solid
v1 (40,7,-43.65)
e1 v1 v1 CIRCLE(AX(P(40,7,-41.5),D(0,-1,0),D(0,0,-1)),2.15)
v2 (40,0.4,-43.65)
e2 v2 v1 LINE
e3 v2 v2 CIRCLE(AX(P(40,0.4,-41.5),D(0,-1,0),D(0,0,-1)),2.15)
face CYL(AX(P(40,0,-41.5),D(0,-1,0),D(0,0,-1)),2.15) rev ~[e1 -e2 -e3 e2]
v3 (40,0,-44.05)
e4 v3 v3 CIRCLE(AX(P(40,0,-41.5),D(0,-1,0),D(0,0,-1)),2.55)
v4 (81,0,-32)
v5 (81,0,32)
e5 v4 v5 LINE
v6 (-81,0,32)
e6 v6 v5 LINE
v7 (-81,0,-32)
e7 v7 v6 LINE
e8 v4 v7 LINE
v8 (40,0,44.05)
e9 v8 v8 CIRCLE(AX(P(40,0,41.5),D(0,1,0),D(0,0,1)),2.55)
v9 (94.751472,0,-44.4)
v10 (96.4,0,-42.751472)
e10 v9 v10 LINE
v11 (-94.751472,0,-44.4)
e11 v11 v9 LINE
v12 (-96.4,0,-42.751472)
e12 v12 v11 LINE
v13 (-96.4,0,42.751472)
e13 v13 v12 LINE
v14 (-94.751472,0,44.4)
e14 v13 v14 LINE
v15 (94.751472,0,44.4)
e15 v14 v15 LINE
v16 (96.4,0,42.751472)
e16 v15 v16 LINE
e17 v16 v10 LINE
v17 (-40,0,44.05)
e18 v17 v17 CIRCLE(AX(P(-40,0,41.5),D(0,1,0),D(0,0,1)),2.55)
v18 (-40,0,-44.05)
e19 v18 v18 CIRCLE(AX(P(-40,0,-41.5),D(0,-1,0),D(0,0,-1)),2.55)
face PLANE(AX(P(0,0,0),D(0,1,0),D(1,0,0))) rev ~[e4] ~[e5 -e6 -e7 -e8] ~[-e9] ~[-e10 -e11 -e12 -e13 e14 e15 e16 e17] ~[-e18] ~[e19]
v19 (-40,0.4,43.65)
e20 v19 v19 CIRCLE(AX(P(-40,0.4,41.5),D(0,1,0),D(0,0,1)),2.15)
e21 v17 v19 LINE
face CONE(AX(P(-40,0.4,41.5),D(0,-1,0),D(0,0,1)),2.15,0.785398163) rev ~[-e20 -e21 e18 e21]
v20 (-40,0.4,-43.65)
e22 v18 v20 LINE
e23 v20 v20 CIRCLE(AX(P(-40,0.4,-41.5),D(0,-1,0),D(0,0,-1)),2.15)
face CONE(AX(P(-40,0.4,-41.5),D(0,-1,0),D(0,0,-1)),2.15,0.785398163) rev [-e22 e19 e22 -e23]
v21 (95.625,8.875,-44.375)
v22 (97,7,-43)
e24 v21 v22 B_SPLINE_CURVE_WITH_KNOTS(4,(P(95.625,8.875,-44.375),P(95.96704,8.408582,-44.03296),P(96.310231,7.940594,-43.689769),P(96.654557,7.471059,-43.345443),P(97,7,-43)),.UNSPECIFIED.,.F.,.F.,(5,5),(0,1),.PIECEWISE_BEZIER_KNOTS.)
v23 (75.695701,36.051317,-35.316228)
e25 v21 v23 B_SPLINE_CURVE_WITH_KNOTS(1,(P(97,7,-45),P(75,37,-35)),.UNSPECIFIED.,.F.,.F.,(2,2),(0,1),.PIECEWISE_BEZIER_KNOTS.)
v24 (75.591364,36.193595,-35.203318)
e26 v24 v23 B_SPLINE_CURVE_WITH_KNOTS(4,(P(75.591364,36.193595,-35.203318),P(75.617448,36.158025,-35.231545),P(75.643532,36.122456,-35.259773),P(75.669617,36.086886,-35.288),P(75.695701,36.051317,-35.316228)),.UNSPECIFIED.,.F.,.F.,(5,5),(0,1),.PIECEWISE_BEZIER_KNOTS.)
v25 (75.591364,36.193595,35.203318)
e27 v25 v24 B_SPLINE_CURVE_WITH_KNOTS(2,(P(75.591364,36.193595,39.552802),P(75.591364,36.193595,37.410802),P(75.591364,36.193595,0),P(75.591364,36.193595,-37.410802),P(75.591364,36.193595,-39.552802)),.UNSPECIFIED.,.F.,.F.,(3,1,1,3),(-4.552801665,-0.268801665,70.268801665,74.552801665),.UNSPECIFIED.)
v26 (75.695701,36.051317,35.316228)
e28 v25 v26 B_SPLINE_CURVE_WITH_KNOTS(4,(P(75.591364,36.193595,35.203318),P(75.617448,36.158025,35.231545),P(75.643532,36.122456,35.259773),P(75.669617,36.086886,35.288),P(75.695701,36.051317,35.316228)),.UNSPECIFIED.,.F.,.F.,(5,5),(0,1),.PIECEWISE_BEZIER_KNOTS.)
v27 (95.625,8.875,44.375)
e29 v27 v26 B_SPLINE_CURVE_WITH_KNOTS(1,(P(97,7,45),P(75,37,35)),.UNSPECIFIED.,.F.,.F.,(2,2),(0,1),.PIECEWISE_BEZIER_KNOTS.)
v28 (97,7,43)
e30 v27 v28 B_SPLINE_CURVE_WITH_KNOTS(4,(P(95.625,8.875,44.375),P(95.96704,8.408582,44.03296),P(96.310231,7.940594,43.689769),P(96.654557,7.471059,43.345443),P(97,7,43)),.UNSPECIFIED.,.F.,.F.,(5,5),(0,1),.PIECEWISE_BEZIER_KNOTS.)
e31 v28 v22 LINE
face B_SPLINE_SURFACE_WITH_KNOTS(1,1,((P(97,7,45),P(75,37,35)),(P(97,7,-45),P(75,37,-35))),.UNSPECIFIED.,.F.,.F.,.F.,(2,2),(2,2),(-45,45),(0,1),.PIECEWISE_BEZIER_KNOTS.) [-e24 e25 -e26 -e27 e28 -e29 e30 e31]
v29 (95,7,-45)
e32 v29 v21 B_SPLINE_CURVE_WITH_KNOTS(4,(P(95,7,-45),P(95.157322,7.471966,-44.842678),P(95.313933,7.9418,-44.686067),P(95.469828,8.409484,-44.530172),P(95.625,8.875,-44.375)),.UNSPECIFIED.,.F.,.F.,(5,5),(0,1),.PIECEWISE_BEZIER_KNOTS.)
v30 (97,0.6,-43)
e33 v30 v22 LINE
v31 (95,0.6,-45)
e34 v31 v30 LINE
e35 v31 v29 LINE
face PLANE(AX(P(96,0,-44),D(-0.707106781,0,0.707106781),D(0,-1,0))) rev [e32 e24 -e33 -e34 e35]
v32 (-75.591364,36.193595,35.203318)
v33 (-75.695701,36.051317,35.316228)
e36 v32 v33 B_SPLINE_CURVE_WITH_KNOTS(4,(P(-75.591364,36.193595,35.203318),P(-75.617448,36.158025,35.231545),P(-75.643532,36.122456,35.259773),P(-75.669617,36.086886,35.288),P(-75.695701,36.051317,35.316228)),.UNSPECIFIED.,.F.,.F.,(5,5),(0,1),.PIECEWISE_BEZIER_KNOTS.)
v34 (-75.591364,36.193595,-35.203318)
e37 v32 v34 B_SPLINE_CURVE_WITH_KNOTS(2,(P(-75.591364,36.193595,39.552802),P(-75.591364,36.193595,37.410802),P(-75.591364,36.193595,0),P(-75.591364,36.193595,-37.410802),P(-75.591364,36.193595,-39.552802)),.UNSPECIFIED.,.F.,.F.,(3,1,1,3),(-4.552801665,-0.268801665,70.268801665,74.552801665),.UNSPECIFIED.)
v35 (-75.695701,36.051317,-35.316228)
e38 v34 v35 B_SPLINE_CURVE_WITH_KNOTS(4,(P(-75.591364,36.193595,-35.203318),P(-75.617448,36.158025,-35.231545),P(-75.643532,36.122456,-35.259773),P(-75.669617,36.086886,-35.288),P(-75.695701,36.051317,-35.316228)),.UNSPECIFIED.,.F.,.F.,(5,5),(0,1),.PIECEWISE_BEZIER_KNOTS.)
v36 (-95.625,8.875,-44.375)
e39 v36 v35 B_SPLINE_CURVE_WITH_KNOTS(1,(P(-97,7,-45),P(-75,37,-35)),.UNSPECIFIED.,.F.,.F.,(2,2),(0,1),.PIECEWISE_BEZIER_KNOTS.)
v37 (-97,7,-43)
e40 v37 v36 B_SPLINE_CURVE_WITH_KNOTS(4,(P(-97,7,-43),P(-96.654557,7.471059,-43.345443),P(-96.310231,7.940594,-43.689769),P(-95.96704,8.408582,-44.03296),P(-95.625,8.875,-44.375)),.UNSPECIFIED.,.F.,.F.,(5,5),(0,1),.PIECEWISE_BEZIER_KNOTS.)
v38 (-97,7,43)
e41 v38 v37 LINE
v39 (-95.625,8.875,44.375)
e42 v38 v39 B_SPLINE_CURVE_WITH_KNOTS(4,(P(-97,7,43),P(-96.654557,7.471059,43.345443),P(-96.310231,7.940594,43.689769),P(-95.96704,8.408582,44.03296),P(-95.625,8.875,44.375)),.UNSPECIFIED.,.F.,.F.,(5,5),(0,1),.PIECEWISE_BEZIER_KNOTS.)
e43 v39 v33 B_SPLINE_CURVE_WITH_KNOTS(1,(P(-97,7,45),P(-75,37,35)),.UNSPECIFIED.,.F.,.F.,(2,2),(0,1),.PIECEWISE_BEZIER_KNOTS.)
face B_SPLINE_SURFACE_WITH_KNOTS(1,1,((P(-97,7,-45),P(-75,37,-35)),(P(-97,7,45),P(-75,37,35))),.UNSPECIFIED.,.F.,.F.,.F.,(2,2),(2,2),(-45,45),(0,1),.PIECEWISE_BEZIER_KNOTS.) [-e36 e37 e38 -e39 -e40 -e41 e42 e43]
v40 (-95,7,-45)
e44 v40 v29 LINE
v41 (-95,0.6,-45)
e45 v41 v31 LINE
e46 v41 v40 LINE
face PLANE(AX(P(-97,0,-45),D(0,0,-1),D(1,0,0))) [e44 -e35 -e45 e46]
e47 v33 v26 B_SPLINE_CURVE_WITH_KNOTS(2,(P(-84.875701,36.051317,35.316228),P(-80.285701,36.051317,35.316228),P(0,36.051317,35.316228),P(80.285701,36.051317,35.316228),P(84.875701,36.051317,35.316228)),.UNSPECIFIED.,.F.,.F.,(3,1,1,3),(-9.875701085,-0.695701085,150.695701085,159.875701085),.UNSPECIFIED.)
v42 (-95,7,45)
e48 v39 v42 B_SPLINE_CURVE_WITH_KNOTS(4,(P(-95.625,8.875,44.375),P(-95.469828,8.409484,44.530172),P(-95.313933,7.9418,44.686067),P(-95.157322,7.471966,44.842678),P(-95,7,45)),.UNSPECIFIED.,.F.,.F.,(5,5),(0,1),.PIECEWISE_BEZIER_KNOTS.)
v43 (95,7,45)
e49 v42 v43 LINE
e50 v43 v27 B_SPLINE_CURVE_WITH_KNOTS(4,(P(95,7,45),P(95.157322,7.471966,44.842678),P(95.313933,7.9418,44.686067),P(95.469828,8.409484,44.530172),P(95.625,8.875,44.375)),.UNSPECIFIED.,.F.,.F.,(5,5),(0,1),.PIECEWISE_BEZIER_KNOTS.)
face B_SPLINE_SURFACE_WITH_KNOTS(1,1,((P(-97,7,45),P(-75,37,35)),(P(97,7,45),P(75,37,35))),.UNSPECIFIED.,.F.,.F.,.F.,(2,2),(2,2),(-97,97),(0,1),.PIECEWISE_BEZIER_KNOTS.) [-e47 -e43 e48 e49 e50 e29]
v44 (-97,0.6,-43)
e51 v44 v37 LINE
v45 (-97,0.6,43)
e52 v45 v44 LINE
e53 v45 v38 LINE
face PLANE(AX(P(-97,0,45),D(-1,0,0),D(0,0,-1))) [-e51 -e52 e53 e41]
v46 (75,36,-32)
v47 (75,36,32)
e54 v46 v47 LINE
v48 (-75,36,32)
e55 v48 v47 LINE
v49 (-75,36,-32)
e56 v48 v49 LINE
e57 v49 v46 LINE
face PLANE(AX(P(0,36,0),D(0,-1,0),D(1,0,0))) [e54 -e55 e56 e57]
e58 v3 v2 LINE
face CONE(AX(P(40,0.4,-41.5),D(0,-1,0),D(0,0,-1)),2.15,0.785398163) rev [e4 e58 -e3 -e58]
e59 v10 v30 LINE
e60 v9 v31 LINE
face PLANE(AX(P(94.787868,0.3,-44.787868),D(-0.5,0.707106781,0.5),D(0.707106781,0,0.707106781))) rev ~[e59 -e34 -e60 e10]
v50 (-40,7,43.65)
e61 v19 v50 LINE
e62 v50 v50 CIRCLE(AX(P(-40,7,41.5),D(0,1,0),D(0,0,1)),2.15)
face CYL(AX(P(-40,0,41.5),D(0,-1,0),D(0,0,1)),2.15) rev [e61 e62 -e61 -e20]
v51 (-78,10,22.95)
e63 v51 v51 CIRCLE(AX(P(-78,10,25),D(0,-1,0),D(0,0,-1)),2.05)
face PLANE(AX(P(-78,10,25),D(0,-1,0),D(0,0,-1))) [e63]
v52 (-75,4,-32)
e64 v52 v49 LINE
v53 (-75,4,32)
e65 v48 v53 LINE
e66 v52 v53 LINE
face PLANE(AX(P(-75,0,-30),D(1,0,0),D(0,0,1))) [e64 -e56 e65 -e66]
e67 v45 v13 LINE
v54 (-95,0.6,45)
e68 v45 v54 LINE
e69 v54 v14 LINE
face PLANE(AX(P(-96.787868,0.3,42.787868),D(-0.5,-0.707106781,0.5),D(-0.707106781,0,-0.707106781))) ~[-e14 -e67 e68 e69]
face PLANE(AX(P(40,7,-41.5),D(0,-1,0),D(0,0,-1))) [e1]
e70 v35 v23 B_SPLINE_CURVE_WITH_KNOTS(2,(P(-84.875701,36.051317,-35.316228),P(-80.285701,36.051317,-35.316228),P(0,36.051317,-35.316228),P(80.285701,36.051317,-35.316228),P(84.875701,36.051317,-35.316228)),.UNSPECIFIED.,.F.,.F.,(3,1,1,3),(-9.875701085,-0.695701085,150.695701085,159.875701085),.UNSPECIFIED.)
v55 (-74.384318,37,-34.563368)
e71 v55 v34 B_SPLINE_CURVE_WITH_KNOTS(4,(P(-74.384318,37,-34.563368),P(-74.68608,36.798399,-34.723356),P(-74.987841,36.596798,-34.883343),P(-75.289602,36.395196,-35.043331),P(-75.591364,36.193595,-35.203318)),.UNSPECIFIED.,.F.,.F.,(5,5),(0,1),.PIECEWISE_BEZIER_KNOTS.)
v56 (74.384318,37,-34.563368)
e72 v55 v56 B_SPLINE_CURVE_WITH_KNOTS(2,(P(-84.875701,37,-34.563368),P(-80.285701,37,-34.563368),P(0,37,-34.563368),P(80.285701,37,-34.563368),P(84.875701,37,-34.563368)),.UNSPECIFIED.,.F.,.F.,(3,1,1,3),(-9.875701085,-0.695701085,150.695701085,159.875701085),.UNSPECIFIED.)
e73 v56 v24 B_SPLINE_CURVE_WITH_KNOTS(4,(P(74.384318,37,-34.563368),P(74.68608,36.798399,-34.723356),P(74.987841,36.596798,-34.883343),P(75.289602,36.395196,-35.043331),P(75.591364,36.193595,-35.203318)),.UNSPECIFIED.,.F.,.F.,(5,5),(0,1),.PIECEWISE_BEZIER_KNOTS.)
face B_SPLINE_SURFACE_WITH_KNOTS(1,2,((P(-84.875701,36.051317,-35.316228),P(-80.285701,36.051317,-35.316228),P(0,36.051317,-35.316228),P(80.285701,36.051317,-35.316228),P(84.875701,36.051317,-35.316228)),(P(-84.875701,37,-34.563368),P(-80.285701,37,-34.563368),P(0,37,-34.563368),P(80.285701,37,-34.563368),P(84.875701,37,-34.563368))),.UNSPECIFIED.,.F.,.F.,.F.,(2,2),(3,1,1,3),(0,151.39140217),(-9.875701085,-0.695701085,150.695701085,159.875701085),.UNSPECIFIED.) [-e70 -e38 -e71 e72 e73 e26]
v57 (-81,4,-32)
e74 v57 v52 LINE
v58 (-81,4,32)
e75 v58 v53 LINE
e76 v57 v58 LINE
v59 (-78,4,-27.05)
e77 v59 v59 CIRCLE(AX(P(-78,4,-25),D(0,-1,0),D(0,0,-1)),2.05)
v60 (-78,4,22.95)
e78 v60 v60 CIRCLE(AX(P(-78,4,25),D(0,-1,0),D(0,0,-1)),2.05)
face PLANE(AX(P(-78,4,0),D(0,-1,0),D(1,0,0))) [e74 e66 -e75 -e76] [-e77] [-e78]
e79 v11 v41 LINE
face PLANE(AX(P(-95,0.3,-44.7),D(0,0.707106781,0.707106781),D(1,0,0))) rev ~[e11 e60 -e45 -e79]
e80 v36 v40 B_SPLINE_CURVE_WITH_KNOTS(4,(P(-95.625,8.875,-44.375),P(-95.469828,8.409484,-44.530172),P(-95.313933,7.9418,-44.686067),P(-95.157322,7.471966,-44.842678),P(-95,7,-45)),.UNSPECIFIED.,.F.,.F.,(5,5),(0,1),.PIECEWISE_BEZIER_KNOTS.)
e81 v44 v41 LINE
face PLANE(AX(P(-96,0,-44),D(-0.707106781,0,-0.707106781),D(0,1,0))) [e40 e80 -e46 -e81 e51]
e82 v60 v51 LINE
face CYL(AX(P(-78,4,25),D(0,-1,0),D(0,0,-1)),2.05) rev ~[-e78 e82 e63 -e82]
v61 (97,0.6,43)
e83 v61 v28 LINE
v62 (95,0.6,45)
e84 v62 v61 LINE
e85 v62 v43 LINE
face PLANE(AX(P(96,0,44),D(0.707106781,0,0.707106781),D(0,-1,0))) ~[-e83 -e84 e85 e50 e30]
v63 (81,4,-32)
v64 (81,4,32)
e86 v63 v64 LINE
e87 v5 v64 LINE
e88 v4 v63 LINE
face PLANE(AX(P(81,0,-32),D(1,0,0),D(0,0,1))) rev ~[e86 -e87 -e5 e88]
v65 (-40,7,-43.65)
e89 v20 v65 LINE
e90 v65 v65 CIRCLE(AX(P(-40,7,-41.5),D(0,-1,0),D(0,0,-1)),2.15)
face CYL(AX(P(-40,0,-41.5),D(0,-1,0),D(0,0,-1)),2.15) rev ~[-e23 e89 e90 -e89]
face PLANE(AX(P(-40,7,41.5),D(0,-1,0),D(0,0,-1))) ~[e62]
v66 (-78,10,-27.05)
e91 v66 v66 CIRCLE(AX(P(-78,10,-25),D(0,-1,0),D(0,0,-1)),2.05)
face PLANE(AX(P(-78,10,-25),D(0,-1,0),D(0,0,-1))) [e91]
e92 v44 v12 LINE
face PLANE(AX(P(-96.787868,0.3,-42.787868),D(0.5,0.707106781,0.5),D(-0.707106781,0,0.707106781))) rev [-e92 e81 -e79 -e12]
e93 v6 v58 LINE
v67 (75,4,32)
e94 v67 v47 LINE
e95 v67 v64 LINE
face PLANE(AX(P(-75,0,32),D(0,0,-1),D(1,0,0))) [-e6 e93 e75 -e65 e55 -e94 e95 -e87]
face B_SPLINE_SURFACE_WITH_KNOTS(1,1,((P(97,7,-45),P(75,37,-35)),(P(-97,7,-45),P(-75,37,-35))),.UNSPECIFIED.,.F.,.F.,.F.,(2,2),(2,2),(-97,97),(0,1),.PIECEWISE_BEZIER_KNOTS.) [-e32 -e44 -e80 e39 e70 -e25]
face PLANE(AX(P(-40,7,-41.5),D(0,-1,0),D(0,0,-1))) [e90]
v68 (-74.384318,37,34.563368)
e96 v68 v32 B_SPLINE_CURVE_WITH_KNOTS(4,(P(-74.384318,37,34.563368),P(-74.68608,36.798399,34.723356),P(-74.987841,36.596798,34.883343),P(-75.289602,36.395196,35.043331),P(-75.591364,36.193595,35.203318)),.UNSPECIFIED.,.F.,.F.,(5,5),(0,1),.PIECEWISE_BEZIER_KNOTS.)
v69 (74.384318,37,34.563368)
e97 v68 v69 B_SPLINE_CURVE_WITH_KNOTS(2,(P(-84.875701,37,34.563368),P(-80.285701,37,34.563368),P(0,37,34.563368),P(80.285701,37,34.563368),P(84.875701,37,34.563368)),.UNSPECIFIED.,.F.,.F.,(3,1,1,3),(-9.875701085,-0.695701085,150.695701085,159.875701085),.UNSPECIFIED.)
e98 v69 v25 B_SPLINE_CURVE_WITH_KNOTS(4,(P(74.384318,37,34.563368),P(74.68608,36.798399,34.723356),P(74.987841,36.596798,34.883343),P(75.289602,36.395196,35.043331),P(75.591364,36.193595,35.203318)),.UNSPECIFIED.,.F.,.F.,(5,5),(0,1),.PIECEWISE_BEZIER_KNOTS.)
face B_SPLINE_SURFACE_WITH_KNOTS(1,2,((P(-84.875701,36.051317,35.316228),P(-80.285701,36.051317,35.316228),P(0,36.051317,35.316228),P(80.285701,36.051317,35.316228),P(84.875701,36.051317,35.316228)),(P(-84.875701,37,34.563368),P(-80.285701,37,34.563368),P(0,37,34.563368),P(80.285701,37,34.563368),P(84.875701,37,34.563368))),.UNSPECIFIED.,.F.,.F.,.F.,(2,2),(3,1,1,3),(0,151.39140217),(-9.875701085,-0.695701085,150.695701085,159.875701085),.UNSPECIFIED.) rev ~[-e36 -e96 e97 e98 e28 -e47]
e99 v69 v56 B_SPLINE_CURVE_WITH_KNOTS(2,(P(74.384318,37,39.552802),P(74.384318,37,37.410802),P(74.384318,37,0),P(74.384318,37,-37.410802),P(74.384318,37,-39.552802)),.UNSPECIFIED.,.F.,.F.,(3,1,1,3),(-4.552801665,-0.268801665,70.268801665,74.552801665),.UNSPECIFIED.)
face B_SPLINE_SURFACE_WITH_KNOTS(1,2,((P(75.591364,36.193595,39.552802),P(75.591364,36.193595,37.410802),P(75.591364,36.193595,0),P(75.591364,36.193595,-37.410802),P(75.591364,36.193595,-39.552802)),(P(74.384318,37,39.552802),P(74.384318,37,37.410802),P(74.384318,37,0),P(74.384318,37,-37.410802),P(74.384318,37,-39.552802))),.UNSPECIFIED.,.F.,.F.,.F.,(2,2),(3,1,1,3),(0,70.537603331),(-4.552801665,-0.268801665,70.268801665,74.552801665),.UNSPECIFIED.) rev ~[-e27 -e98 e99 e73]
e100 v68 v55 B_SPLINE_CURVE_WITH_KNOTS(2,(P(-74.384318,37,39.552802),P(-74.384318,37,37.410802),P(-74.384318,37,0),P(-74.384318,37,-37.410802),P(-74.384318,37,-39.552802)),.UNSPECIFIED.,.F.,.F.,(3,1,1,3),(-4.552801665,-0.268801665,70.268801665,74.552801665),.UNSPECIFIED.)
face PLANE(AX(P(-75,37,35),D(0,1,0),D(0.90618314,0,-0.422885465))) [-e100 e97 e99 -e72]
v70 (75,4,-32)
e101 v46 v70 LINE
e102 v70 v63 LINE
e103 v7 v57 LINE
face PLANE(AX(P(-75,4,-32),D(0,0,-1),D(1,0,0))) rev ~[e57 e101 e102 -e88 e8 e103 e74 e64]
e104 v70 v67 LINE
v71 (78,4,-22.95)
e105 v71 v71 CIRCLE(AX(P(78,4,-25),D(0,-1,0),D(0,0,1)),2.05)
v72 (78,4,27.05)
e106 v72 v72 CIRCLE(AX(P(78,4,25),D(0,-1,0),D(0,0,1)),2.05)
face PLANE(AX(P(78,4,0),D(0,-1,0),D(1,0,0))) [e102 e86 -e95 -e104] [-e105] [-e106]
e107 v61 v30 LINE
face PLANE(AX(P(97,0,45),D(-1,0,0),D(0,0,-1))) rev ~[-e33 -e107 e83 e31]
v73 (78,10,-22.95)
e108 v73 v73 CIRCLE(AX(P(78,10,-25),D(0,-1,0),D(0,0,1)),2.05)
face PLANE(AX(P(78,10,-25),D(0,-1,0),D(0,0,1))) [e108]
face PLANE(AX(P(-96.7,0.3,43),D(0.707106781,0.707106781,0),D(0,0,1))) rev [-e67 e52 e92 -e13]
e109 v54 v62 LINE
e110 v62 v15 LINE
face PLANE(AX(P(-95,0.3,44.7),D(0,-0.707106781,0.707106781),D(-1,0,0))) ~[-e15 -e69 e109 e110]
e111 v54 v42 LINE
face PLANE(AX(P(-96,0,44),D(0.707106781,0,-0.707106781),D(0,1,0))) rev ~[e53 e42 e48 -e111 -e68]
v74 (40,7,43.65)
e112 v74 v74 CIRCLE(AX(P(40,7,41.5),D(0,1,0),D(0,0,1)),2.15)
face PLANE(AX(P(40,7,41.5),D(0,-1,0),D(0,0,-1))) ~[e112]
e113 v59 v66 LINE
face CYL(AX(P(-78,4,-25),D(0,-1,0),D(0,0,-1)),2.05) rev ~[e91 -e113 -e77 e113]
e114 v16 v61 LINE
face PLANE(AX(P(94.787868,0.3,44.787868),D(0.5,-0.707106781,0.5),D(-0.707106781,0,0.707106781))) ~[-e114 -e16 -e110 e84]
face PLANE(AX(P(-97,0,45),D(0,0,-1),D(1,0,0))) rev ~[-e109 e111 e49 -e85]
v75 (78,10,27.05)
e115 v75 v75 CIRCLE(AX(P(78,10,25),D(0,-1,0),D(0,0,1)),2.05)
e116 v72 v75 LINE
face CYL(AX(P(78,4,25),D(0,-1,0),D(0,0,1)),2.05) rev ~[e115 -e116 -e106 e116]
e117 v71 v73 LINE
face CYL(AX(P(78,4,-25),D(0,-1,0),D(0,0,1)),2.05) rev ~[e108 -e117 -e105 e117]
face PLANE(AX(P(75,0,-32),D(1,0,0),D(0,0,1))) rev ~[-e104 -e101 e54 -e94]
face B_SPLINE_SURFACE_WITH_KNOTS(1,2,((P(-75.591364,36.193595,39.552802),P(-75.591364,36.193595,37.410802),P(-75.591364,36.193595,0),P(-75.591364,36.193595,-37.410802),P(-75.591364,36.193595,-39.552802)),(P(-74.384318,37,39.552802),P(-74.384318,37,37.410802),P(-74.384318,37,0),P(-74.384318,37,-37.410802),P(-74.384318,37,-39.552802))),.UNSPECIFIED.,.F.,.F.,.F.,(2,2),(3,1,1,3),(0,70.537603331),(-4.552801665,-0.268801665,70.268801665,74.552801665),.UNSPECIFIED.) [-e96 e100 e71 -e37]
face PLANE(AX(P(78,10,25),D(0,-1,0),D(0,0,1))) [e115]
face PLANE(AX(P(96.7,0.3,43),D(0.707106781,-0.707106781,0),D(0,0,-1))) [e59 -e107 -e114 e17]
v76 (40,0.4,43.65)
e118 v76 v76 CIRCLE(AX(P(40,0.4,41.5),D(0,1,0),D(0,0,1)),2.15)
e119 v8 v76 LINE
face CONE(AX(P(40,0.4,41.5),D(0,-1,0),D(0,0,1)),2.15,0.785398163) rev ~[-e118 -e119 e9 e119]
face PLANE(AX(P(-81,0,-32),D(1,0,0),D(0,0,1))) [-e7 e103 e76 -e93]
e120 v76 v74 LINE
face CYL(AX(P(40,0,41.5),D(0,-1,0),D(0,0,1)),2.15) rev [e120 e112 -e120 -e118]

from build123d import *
from OCP.BRepFilletAPI import BRepFilletAPI_MakeChamfer

# Parameters (mm, degrees)
SKETCH1_W                       = 194
SKETCH1_H                       = 90
BOSS_EXTRUDE1_DEPTH             = 7
SKETCH3_W                       = 194
SKETCH3_H                       = 90
SKETCH2_W                       = 150
SKETCH2_H                       = 70
CHAMFER1_SIZE                   = 2
SKETCH4_R                       = 2.15
CUT_EXTRUDE1_DEPTH              = 7
SKETCH5_W                       = 150
SKETCH5_H                       = 60
CUT_EXTRUDE2_DEPTH              = 36
SKETCH6_W                       = 150
SKETCH6_H                       = 64
CUT_EXTRUDE3_DEPTH              = 32
SKETCH7_W                       = 6
SKETCH7_H                       = 64
CUT_EXTRUDE4_DEPTH              = 4
SKETCH8_R                       = 2.05
CUT_EXTRUDE5_DEPTH              = 6
CHAMFER2_SIZE                   = 1
CHAMFER2_SIZE2                  = 0.615681714
CHAMFER2_SIZE2_2                = 0.436631997
CHAMFER3_SIZE                   = 0.6
SKIZZE1_W                       = 54.050484576
SKIZZE1_H                       = 12.5
SKIZZE1_W_2                     = 40
SKIZZE1_H_2                     = 21.453027382
AUFSATZ_LINEAR_AUSTRAGEN1_DEPTH = 10
SKIZZE3_W                       = 47.974757712
SKIZZE3_H                       = 1
SCHNITT_LINEAR_AUSTRAGEN2_DEPTH = 4
SKETCH9_W                       = 150
SKETCH9_H                       = 64
CUT_EXTRUDE6_DEPTH              = 32
CHAMFER4_SIZE                   = 0.4


with BuildPart() as part:
    # Sketch1 → Boss-Extrude1 (new body)
    with BuildSketch(Plane(origin=(0, 0, 0), x_dir=(1, 0, 0), z_dir=(0, 1, 0))):
        Rectangle(SKETCH1_W, SKETCH1_H)
    extrude(amount=BOSS_EXTRUDE1_DEPTH)

    # Sketch3 → Loft2 section 0
    with BuildSketch(Plane(origin=(0, 7, 0), x_dir=(1, 0, 0), z_dir=(0, 1, 0))):
        Rectangle(SKETCH3_W, SKETCH3_H)
    # Sketch2 → Loft2 section 1
    with BuildSketch(Plane(origin=(0, 37, 0), x_dir=(1, 0, 0), z_dir=(0, 1, 0))):
        Rectangle(SKETCH2_W, SKETCH2_H)
    loft()

    # Chamfer1
    chamfer1_edges = [part.edges().sort_by_distance(p)[0] for p in [
        (-97, 3.5, 45),
        (97, 3.5, 45),
        (97, 3.5, -45),
        (-97, 3.5, -45),
    ]]
    chamfer(chamfer1_edges, length=CHAMFER1_SIZE)

    # Sketch4 → Cut-Extrude1 (cut)
    with BuildSketch(Plane.XZ):
        with Locations(Location((40, -41.5, 0), (0, 0, 270))):
            Circle(SKETCH4_R)
        with Locations(Location((-40, -41.5, 0), (0, 0, 270))):
            Circle(SKETCH4_R)
    cut_extrude1 = extrude(amount=-CUT_EXTRUDE1_DEPTH, mode=Mode.SUBTRACT)

    # Sketch5 → Cut-Extrude2 (cut)
    with BuildSketch(Plane.XZ):
        Rectangle(SKETCH5_W, SKETCH5_H)
    extrude(amount=-CUT_EXTRUDE2_DEPTH, mode=Mode.SUBTRACT)

    # Mirror1: Cut-Extrude1 across plane
    add(cut_extrude1.mirror(Plane.XY), mode=Mode.SUBTRACT)

    # Sketch6 → Cut-Extrude3 (cut)
    with BuildSketch(Plane.XZ):
        Rectangle(SKETCH6_W, SKETCH6_H)
    extrude(amount=-CUT_EXTRUDE3_DEPTH, mode=Mode.SUBTRACT)

    # Sketch7 → Cut-Extrude4 (cut)
    with BuildSketch(Plane.XZ):
        with Locations((-78, 0)):
            Rectangle(SKETCH7_W, SKETCH7_H)
        with Locations((78, 0)):
            Rectangle(SKETCH7_W, SKETCH7_H)
    extrude(amount=-CUT_EXTRUDE4_DEPTH, mode=Mode.SUBTRACT)

    # Sketch8 → Cut-Extrude5 (cut)
    with BuildSketch(Plane.XZ.offset(-4)):
        with Locations(Location((-78, 25, 0), (0, 0, 270))):
            Circle(SKETCH8_R)
        with Locations(Location((-78, -25, 0), (0, 0, 270))):
            Circle(SKETCH8_R)
        with Locations(Location((78, -25, 0), (0, 0, 90))):
            Circle(SKETCH8_R)
        with Locations(Location((78, 25, 0), (0, 0, 90))):
            Circle(SKETCH8_R)
    extrude(amount=-CUT_EXTRUDE5_DEPTH, mode=Mode.SUBTRACT)

    # Chamfer2: one chamfer whose edges measure the first distance from different faces: ONE call of the kernel's chamfer builder (chamfer() names one face for all edges)
    chamfer2_edges_1 = [part.edges().sort_by_distance(p)[0] for p in [
        (75, 37, 0),
    ]]
    chamfer2_side_1 = [part.faces().sort_by_distance(p)[0] for p in [
        (86.442553469, 21.396517997, 0),
    ]]
    chamfer2_edges_2 = [part.edges().sort_by_distance(p)[0] for p in [
        (0, 37, -35),
    ]]
    chamfer2_side_2 = [part.faces().sort_by_distance(p)[0] for p in [
        (0, 21.370454545, -40.209848485),
    ]]
    chamfer2_edges_3 = [part.edges().sort_by_distance(p)[0] for p in [
        (-75, 37, 0),
    ]]
    chamfer2_side_3 = [part.faces().sort_by_distance(p)[0] for p in [
        (-86.442553469, 21.396517997, 0),
    ]]
    chamfer2_edges_4 = [part.edges().sort_by_distance(p)[0] for p in [
        (0, 37, 35),
    ]]
    chamfer2_side_4 = [part.faces().sort_by_distance(p)[0] for p in [
        (0, 21.370454545, 40.209848485),
    ]]
    chamfer2 = BRepFilletAPI_MakeChamfer(part.part.solid().wrapped)
    for e in chamfer2_edges_1:
        chamfer2.Add(CHAMFER2_SIZE, CHAMFER2_SIZE2, e.wrapped, chamfer2_side_1[0].wrapped)  # the first distance lies on this face
    for e in chamfer2_edges_2:
        chamfer2.Add(CHAMFER2_SIZE, CHAMFER2_SIZE2_2, e.wrapped, chamfer2_side_2[0].wrapped)  # the first distance lies on this face
    for e in chamfer2_edges_3:
        chamfer2.Add(CHAMFER2_SIZE, CHAMFER2_SIZE2, e.wrapped, chamfer2_side_3[0].wrapped)  # the first distance lies on this face
    for e in chamfer2_edges_4:
        chamfer2.Add(CHAMFER2_SIZE, CHAMFER2_SIZE2_2, e.wrapped, chamfer2_side_4[0].wrapped)  # the first distance lies on this face
    add(Compound.cast(chamfer2.Shape()), mode=Mode.REPLACE)

    # Chamfer3
    chamfer3_edges = [part.edges().sort_by_distance(p)[0] for p in [
        (0, 0, 45),
        (97, 0, 0),
        (-97, 0, 0),
        (0, 0, -45),
        (-96, 0, -44),
        (96, 0, -44),
        (96, 0, 44),
        (-96, 0, 44),
    ]]
    chamfer(chamfer3_edges, length=CHAMFER3_SIZE)

    # Skizze1 → Aufsatz-Linear austragen1 (add)
    with BuildSketch(Plane.XZ.offset(-36)):
        with Locations((0, -23.75)):
            Rectangle(SKIZZE1_W, SKIZZE1_H)
        with Locations((0, 23.75)):
            Rectangle(SKIZZE1_W, SKIZZE1_H)
        with Locations((55, 0)):
            Rectangle(SKIZZE1_W_2, SKIZZE1_H_2)
    extrude(amount=AUFSATZ_LINEAR_AUSTRAGEN1_DEPTH)

    # Skizze3 → Schnitt-Linear austragen2 (cut)
    with BuildSketch(Plane(origin=(0, 36, 0), x_dir=(-1, 0, 0), z_dir=(0, -1, 0))):
        with Locations((51.012621144, -30.5)):
            Rectangle(SKIZZE3_W, SKIZZE3_H)
        with Locations((-51.012621144, -30.5)):
            Rectangle(SKIZZE3_W, SKIZZE3_H)
        with Locations((51.012621144, 30.5)):
            Rectangle(SKIZZE3_W, SKIZZE3_H)
        with Locations((-51.012621144, 30.5)):
            Rectangle(SKIZZE3_W, SKIZZE3_H)
    extrude(amount=SCHNITT_LINEAR_AUSTRAGEN2_DEPTH, mode=Mode.SUBTRACT)

    # Sketch9 → Cut-Extrude6 (cut)
    with BuildSketch(Plane.XZ.offset(-4)):
        Rectangle(SKETCH9_W, SKETCH9_H)
    extrude(amount=-CUT_EXTRUDE6_DEPTH, mode=Mode.SUBTRACT)

    # Chamfer4
    chamfer4_edges = [part.edges().sort_by_distance(p)[0] for p in [
        (40, 0, -39.35),
        (-40, 0, -39.35),
        (40, 0, 39.35),
        (-40, 0, 39.35),
    ]]
    chamfer(chamfer4_edges, length=CHAMFER4_SIZE)


solid = part.part
